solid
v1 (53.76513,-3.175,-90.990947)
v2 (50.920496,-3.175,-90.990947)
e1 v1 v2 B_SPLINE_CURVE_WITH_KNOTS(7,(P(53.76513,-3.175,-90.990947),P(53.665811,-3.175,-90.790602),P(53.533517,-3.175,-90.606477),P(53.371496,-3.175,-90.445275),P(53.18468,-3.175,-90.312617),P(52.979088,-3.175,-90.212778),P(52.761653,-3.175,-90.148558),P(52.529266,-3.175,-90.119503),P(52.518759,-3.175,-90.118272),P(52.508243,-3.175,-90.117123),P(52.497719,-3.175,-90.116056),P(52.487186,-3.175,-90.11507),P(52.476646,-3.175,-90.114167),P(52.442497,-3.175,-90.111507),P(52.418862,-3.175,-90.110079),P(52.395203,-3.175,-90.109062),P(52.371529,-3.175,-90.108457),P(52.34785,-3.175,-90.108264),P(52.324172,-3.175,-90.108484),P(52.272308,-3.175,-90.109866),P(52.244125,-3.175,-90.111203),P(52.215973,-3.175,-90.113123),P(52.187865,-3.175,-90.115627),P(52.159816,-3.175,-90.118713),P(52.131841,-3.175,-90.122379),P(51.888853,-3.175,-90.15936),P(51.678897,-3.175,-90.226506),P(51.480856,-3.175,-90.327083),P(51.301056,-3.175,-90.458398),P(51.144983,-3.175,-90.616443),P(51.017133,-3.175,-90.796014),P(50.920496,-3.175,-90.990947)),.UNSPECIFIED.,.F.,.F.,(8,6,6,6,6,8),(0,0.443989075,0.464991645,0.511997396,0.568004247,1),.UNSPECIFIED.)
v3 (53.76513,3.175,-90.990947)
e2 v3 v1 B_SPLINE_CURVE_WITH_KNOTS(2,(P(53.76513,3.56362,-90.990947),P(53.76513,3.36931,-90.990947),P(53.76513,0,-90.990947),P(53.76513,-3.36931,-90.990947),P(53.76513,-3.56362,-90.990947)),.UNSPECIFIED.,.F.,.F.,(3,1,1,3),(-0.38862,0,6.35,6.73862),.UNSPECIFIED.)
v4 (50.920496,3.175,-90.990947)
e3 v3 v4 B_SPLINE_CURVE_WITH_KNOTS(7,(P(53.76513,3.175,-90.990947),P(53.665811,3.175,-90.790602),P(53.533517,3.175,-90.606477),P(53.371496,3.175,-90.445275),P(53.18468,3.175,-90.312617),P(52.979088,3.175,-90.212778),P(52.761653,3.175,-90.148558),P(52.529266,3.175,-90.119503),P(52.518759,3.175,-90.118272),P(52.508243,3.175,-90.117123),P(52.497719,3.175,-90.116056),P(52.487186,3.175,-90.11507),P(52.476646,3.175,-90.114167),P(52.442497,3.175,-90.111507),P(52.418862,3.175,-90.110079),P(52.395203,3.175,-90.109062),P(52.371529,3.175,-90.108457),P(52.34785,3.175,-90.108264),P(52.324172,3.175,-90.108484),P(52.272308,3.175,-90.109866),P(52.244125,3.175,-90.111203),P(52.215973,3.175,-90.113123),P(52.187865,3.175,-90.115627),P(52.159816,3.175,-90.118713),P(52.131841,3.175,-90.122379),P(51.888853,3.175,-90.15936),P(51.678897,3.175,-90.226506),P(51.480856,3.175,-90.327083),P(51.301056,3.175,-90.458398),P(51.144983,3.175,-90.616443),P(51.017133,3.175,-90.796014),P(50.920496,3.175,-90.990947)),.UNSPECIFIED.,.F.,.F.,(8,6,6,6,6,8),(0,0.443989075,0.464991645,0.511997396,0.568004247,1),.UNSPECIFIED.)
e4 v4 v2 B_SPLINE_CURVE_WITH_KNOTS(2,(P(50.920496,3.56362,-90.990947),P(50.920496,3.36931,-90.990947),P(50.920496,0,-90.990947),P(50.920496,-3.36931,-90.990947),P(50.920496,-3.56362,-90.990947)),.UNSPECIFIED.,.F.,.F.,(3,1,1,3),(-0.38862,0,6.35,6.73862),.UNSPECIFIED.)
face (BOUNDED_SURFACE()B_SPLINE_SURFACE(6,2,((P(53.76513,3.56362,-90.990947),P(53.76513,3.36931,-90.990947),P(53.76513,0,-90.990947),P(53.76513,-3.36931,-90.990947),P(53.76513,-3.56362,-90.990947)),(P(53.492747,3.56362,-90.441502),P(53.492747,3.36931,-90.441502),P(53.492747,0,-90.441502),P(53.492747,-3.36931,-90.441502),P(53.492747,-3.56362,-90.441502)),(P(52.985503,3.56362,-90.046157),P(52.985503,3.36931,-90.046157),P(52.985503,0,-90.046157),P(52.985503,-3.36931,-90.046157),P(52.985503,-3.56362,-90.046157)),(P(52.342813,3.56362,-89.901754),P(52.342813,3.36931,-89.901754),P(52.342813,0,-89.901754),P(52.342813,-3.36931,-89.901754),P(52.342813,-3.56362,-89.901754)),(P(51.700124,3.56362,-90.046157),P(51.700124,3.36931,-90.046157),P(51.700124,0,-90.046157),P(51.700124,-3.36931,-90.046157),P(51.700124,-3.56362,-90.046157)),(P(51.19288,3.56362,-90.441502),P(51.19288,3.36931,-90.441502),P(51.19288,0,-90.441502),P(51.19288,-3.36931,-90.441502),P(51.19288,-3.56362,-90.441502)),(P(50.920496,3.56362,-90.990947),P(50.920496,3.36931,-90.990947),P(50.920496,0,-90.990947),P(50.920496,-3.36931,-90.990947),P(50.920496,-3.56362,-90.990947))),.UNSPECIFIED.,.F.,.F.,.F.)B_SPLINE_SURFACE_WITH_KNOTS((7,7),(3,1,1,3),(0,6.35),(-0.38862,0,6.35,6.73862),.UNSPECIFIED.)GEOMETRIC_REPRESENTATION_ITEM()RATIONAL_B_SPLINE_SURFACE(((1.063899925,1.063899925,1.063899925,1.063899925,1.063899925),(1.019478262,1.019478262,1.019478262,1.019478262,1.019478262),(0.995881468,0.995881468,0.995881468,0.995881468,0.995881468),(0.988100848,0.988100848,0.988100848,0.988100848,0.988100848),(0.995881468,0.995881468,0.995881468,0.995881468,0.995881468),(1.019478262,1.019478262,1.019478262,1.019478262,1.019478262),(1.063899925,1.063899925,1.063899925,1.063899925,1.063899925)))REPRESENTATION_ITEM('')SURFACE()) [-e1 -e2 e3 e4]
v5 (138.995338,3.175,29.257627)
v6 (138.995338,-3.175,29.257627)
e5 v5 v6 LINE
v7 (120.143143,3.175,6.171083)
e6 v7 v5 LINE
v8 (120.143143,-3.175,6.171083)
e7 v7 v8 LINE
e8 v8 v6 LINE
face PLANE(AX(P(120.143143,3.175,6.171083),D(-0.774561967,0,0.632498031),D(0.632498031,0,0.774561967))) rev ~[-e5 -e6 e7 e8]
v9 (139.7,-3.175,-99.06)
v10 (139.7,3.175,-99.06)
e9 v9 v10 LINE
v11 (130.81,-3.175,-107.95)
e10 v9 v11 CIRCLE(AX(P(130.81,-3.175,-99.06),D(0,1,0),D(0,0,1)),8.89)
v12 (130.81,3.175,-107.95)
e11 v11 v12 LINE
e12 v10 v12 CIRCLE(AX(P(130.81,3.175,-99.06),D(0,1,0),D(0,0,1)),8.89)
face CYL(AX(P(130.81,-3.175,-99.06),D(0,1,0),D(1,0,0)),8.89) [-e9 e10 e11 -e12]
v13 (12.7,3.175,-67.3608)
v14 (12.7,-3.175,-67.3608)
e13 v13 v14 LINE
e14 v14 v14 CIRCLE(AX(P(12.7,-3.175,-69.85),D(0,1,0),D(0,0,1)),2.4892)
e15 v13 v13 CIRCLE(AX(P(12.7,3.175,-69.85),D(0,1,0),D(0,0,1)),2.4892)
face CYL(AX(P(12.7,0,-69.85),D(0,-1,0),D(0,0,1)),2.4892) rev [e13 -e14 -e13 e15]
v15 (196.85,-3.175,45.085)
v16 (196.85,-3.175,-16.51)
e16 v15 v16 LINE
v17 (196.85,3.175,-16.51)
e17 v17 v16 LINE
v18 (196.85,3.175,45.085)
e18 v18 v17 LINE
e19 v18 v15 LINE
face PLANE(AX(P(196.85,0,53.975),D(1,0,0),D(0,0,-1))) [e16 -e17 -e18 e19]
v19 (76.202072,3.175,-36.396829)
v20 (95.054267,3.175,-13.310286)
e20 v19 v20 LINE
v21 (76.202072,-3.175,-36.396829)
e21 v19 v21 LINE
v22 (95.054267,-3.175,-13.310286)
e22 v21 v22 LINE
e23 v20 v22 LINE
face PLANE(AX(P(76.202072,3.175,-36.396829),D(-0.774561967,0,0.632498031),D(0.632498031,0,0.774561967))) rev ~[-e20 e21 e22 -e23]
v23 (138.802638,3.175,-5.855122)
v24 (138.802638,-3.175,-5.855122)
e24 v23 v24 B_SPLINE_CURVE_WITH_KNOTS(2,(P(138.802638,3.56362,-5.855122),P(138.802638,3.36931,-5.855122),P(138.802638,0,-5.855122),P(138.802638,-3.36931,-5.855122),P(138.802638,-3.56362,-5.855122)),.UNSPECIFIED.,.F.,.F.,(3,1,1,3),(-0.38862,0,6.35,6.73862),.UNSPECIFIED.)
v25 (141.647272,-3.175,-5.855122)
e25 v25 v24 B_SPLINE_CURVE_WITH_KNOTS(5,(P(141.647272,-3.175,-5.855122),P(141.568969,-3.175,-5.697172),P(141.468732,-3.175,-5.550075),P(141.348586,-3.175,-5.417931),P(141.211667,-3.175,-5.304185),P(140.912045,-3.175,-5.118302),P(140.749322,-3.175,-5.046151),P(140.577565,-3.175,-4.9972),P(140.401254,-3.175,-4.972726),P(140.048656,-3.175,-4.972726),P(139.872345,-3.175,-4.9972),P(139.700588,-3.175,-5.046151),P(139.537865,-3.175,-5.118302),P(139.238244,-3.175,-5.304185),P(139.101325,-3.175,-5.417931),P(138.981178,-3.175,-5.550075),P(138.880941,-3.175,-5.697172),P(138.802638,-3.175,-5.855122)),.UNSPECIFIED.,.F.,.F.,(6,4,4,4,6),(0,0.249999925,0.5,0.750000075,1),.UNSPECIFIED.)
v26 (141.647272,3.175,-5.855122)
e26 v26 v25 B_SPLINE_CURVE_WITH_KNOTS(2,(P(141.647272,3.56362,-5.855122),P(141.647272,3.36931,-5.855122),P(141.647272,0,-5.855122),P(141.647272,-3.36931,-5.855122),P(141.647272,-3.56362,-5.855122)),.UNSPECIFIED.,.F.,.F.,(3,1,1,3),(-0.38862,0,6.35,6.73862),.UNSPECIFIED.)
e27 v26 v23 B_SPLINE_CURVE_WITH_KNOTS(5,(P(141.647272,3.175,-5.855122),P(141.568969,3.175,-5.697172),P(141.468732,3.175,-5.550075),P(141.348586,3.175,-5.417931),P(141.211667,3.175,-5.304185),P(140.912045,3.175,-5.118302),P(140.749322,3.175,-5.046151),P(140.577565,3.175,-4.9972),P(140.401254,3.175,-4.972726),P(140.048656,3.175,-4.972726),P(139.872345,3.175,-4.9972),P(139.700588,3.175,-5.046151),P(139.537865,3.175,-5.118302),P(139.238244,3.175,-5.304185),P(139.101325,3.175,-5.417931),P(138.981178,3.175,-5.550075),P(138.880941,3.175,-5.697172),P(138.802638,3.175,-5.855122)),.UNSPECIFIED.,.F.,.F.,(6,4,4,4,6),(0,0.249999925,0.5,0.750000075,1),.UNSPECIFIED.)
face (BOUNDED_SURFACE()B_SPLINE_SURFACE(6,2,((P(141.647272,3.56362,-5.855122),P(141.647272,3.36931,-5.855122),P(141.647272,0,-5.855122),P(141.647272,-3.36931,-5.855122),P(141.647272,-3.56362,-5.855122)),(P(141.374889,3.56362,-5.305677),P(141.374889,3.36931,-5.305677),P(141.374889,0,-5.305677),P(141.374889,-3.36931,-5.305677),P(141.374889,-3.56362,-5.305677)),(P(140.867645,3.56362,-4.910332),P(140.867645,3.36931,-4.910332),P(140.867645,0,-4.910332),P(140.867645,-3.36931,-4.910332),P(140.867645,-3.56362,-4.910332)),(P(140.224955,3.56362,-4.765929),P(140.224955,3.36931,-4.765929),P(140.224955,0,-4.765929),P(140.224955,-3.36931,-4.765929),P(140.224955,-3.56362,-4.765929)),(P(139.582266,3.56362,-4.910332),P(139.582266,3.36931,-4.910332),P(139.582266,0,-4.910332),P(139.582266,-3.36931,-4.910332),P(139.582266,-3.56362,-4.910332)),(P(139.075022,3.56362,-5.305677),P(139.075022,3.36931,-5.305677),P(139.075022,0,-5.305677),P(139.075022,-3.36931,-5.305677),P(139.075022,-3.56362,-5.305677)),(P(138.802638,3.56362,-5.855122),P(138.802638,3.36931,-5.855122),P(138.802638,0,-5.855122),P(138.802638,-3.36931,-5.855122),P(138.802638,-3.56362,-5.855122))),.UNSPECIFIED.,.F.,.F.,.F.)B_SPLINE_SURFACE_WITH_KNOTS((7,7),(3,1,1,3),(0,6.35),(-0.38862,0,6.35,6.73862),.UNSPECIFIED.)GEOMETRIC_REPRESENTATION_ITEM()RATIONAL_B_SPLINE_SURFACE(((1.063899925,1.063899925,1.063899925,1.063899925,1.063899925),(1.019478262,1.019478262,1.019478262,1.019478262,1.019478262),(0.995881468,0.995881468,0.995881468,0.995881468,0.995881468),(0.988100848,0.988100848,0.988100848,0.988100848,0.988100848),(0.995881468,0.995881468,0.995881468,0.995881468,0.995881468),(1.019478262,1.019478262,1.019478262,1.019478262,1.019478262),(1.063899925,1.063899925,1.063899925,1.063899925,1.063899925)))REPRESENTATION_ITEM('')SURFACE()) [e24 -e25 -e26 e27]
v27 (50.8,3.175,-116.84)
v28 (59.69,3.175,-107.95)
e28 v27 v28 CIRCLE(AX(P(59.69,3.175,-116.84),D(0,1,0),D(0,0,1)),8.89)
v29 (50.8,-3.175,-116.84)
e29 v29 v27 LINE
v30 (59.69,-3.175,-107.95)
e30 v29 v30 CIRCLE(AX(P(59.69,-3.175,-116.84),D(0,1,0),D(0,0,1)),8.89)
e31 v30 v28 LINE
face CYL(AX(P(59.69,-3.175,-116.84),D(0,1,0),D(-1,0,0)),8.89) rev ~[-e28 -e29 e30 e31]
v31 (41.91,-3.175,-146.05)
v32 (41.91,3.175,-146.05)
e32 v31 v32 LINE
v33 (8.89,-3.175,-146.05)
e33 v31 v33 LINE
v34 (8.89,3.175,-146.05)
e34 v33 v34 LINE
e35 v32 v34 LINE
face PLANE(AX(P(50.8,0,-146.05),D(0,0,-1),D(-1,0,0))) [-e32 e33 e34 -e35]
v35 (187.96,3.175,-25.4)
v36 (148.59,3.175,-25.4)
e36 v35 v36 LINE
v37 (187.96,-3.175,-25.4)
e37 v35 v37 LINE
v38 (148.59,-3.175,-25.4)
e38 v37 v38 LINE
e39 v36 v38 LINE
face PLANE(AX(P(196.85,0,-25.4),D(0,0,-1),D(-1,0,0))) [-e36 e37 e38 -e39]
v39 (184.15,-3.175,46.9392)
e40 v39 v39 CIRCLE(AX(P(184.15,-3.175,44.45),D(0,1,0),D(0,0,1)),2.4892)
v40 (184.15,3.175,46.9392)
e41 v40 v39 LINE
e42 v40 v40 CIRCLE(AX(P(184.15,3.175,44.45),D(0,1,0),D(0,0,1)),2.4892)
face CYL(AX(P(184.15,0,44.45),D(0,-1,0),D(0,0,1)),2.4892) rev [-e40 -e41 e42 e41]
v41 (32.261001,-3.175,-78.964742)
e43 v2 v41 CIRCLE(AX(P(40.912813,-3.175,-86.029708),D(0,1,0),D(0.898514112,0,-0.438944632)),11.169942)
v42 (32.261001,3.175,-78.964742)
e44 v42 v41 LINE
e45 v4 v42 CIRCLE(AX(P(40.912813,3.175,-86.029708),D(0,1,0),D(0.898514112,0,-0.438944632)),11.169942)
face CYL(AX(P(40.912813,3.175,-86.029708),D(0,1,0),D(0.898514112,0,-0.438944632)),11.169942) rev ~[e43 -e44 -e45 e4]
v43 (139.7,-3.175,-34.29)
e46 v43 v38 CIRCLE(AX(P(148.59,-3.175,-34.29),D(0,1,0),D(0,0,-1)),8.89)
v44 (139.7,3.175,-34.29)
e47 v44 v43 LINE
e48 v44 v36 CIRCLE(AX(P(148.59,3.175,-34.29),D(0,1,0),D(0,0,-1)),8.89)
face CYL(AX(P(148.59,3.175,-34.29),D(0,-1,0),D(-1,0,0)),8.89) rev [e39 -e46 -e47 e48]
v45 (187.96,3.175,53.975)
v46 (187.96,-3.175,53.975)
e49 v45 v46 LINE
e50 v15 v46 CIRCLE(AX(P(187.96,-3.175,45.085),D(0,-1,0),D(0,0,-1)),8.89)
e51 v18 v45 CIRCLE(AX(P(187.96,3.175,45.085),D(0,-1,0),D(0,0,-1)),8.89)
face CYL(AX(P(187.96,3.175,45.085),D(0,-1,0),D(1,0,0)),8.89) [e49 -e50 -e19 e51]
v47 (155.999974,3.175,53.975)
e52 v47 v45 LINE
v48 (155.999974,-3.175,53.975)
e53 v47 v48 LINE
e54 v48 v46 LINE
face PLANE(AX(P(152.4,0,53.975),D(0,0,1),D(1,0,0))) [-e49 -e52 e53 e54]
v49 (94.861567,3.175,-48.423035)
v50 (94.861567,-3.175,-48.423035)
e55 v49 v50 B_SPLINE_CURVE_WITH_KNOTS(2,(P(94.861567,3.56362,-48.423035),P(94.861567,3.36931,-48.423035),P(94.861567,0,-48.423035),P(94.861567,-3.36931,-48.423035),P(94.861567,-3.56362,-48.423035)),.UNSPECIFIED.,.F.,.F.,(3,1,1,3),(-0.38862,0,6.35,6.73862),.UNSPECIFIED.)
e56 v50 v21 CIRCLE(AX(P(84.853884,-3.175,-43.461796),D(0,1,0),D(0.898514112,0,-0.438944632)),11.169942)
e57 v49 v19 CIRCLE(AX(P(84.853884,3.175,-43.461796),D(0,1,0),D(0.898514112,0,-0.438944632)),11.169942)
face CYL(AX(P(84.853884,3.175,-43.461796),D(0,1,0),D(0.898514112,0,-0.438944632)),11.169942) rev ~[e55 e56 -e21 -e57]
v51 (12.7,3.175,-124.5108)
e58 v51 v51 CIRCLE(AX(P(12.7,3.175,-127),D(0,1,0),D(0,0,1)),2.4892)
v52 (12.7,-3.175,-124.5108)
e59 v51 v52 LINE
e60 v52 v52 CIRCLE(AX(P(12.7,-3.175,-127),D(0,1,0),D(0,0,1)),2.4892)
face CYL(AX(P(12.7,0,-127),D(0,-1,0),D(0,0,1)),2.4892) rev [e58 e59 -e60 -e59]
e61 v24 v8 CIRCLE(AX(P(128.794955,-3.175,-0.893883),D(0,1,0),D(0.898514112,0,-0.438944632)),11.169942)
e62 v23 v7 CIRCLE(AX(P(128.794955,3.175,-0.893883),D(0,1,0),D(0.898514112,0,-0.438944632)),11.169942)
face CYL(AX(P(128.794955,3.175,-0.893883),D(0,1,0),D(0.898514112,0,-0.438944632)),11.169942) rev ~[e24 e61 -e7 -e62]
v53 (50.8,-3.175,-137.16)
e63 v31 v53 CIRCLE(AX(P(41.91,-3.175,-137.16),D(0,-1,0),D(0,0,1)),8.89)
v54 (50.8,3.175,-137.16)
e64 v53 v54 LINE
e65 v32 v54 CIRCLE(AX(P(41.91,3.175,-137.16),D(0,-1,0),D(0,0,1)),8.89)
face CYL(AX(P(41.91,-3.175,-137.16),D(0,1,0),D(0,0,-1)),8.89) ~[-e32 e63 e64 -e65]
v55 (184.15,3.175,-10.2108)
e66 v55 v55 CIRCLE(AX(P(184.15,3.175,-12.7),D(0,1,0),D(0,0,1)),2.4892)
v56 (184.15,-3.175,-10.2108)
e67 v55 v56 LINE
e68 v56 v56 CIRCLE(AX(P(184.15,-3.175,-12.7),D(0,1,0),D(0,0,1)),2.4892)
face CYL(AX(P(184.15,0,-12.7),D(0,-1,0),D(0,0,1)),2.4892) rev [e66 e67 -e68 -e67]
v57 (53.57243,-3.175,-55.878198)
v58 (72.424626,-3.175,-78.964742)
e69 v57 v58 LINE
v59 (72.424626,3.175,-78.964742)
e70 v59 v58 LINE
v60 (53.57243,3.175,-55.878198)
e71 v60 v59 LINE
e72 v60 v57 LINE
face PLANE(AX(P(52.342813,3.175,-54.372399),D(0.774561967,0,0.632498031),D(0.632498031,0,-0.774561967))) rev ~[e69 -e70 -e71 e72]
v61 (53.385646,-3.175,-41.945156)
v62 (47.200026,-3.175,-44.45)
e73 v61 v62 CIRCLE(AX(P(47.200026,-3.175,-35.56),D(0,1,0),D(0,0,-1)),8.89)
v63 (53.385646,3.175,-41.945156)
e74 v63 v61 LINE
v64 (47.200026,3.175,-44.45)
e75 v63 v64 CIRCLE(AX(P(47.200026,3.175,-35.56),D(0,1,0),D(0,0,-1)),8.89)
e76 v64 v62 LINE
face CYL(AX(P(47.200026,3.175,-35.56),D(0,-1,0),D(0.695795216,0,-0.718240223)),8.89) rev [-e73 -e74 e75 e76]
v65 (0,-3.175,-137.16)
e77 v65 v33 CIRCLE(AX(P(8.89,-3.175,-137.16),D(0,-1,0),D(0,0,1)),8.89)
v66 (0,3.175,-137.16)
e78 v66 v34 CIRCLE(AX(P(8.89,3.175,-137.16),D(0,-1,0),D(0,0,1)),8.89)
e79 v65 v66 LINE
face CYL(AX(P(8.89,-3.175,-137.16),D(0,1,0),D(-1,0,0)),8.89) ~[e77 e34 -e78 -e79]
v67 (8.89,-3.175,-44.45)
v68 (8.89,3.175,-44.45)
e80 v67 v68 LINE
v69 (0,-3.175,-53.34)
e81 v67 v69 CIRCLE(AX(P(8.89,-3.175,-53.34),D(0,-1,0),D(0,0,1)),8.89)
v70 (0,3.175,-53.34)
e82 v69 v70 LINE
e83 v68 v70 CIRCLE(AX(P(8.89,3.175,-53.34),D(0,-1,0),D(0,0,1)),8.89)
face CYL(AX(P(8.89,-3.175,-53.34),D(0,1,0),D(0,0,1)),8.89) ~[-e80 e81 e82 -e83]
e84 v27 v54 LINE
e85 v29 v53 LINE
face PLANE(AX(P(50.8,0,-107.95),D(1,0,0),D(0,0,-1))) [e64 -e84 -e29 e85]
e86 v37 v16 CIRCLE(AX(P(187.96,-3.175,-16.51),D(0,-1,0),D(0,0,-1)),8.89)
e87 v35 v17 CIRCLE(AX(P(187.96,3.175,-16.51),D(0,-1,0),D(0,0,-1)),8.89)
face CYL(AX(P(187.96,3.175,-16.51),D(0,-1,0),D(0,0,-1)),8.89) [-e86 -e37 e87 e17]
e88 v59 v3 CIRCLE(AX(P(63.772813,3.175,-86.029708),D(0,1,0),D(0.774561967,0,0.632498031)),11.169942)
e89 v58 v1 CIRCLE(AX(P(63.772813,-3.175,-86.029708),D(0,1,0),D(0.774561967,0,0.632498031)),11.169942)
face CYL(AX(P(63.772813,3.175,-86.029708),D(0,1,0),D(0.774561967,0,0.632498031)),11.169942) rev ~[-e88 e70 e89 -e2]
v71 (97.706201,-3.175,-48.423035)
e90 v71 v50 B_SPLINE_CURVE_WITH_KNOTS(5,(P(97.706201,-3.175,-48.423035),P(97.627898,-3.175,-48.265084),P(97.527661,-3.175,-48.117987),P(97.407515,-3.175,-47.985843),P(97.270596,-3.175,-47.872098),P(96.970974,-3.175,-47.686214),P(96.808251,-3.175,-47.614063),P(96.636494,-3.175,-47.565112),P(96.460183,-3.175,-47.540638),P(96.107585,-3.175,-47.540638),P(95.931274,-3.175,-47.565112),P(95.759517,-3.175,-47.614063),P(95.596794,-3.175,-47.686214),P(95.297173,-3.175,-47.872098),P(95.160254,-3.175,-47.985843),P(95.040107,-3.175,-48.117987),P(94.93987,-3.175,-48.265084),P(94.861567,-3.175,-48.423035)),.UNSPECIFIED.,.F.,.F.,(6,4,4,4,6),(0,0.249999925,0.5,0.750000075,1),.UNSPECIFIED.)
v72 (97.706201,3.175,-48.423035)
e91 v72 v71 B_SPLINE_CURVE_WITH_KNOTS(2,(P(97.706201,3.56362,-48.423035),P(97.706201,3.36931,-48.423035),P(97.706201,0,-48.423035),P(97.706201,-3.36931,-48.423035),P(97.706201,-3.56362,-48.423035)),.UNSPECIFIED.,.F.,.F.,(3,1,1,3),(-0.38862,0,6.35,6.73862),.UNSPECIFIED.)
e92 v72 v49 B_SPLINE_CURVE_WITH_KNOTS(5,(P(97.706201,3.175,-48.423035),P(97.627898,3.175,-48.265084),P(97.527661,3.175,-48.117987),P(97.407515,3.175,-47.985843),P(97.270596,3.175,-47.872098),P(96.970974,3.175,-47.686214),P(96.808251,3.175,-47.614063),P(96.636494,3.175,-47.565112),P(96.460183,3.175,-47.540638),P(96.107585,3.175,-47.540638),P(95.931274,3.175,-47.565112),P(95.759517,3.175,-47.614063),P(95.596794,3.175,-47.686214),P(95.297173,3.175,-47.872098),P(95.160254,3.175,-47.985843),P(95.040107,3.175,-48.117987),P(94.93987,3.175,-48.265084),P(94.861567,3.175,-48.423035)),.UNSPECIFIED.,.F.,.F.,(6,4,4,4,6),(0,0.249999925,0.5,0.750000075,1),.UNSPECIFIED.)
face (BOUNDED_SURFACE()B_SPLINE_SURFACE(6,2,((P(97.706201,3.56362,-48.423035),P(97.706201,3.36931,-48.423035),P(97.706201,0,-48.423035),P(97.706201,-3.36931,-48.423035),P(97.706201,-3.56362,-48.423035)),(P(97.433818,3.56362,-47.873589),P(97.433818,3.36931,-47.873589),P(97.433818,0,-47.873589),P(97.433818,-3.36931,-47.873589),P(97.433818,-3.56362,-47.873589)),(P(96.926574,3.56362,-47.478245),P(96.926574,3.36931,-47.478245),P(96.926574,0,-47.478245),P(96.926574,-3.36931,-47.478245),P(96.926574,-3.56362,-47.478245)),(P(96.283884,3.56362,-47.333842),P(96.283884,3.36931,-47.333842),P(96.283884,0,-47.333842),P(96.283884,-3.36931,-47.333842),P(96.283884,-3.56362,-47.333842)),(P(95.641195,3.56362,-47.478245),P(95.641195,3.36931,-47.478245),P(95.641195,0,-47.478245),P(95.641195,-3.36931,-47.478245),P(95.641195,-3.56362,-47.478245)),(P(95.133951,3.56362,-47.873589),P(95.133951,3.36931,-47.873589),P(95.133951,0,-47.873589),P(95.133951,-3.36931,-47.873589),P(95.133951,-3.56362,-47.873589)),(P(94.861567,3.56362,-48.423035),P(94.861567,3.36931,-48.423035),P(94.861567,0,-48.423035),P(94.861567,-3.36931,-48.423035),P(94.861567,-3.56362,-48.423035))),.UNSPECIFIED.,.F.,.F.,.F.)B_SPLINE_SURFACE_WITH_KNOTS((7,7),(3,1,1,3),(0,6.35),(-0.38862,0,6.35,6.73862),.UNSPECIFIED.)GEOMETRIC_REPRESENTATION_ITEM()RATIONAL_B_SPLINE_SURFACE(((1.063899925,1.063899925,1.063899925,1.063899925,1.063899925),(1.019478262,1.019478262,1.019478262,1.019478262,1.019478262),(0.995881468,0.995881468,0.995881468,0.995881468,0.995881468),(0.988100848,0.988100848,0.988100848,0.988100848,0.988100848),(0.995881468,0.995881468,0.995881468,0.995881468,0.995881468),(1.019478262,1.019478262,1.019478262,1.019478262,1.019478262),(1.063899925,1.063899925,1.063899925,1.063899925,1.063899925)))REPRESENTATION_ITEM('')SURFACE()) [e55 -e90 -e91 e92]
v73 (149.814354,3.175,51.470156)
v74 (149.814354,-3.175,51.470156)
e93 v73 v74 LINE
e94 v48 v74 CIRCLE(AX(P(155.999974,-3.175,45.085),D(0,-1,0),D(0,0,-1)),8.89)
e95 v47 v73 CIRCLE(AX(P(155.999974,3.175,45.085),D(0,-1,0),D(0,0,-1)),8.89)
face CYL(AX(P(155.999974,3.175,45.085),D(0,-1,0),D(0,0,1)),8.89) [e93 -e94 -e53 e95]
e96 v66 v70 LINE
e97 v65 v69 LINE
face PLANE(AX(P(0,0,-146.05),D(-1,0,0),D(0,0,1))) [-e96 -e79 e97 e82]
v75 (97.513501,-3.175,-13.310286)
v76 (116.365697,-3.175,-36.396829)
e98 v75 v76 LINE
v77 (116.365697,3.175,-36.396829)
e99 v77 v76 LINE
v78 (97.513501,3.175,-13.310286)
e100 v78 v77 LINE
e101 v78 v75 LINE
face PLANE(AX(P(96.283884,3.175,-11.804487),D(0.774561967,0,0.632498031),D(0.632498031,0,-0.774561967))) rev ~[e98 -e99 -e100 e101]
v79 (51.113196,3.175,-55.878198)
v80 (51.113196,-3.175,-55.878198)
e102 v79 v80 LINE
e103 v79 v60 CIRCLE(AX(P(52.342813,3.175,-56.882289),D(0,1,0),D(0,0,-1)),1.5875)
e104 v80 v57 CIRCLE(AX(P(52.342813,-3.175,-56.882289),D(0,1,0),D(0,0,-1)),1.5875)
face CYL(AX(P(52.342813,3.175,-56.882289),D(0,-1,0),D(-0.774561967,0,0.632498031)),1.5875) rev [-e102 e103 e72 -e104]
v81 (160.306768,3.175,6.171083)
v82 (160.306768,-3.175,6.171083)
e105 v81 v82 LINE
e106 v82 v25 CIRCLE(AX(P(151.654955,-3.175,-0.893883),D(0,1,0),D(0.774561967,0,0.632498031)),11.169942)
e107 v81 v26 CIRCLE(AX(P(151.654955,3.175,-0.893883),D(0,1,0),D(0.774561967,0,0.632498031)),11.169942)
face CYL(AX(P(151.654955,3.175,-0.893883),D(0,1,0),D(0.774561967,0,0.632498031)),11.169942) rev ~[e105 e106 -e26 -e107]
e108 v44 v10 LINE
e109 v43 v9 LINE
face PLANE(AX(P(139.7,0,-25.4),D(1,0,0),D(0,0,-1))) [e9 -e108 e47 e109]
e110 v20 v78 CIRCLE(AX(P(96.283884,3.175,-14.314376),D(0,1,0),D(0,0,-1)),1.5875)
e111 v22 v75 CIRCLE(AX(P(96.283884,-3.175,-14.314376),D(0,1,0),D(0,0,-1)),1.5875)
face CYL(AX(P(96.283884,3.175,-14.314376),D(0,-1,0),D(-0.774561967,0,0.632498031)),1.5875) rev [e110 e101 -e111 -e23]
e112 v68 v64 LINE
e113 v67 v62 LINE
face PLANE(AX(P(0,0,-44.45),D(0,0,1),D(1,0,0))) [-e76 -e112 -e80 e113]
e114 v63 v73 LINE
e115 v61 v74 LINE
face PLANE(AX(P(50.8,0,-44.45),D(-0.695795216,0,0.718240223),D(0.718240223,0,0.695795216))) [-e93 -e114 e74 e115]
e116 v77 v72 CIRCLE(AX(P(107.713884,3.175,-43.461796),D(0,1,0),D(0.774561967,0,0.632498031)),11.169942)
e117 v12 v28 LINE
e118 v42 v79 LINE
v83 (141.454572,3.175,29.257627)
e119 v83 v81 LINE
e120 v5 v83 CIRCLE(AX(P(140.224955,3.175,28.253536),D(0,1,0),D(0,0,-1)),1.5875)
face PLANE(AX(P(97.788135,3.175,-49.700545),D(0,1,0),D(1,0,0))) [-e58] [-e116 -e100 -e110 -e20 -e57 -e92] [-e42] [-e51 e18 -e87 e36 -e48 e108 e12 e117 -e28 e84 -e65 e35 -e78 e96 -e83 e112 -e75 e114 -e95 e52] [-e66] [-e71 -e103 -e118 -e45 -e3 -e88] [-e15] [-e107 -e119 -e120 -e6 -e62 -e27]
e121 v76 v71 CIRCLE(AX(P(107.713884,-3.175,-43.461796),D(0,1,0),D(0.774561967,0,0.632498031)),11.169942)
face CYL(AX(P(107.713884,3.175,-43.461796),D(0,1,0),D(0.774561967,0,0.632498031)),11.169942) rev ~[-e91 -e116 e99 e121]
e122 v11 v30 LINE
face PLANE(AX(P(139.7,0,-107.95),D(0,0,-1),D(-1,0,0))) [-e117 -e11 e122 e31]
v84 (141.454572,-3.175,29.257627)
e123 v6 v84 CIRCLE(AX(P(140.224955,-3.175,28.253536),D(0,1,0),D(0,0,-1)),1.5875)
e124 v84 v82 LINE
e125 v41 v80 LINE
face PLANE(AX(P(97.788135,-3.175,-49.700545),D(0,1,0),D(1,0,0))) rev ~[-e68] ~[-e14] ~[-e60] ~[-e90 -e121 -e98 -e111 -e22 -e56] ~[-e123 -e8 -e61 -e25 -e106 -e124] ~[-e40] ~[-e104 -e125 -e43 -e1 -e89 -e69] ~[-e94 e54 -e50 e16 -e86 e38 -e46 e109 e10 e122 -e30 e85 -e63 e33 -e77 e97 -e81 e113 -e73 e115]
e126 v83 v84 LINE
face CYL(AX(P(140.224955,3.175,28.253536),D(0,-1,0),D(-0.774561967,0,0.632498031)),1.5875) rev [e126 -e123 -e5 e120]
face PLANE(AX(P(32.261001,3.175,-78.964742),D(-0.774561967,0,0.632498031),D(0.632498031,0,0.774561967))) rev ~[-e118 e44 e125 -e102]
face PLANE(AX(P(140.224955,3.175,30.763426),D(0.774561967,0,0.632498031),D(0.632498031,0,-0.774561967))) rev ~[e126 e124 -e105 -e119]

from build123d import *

# Parameters (mm, degrees)
SKETCH1_R           = 2.4892
BOSS_EXTRUDE1_DEPTH = 3.175
FILLET2_R           = 8.89
CUT_EXTRUDE2_DEPTH  = 246.195529119
FILLET3_R           = 1.5875


with BuildPart() as part:
    # Sketch1 → Boss-Extrude1 (new, symmetric)
    with BuildSketch(Plane(origin=(0, 0, 0), x_dir=(1, 0, 0), z_dir=(0, 1, 0))):
        Polygon((139.7, 25.4), (139.7, 107.95), (50.8, 107.95), (50.8, 146.05), (0, 146.05), (0, 107.95), (0, 44.45), (50.8, 44.45), (152.4, -53.975), (196.85, -53.975), (196.85, 0), (196.85, 25.4), align=None)
        with Locations(Location((184.15, -44.45, 0), (0, 0, 270))):
            Circle(SKETCH1_R, mode=Mode.SUBTRACT)
        with Locations(Location((184.15, 12.7, 0), (0, 0, 270))):
            Circle(SKETCH1_R, mode=Mode.SUBTRACT)
        with Locations(Location((12.7, 69.85, 0), (0, 0, 270))):
            Circle(SKETCH1_R, mode=Mode.SUBTRACT)
        with Locations(Location((12.7, 127, 0), (0, 0, 270))):
            Circle(SKETCH1_R, mode=Mode.SUBTRACT)
    extrude(amount=BOSS_EXTRUDE1_DEPTH, both=True)

    # Fillet2
    fillet2_edges = [part.edges().sort_by_distance(p)[0] for p in [
        (50.8, 0, -107.95),
        (139.7, 0, -107.95),
        (139.7, 0, -25.4),
        (196.85, 0, -25.4),
        (196.85, 0, 53.975),
        (152.4, 0, 53.975),
        (50.8, 0, -44.45),
        (0, 0, -44.45),
        (0, 0, -146.05),
        (50.8, 0, -146.05),
    ]]
    fillet(fillet2_edges, radius=FILLET2_R)

    # Sketch4 → Cut-Extrude2 (cut, through all)
    with BuildSketch(Plane(origin=(0, 3.175, 0), x_dir=(1, 0, 0), z_dir=(0, 1, 0))):
        with BuildLine():
            Line((32.261000835, 78.9647419), (52.342813318, 54.372399446))
            Line((52.342813318, 54.372399446), (72.424625802, 78.9647419))
            ThreePointArc((72.424625802, 78.9647419), (69.796699914, 95.436110561), (53.736462526, 90.93269463))
            Line((53.736462526, 90.93269463), (52.342813318, 88.079912324))
            Line((52.342813318, 88.079912324), (50.949164111, 90.93269463))
            ThreePointArc((50.949164111, 90.93269463), (34.888926723, 95.436110561), (32.261000835, 78.9647419))
        make_face()
        with BuildLine():
            Line((76.202071803, 36.3968294), (96.283884286, 11.804486946))
            Line((96.283884286, 11.804486946), (116.365696769, 36.3968294))
            ThreePointArc((116.365696769, 36.3968294), (113.737770882, 52.868198061), (97.677533493, 48.36478213))
            Line((97.677533493, 48.36478213), (96.283884286, 45.511999824))
            Line((96.283884286, 45.511999824), (94.890235079, 48.36478213))
            ThreePointArc((94.890235079, 48.36478213), (78.82999769, 52.868198061), (76.202071803, 36.3968294))
        make_face()
        with BuildLine():
            Line((120.14314277, -6.171083099), (140.224955253, -30.763425554))
            Line((140.224955253, -30.763425554), (160.306767736, -6.171083099))
            ThreePointArc((160.306767736, -6.171083099), (157.678841849, 10.300285561), (141.618604461, 5.796869631))
            Line((141.618604461, 5.796869631), (140.224955253, 2.944087324))
            Line((140.224955253, 2.944087324), (138.831306046, 5.796869631))
            ThreePointArc((138.831306046, 5.796869631), (122.771068658, 10.300285561), (120.14314277, -6.171083099))
        make_face()
    extrude(amount=-CUT_EXTRUDE2_DEPTH, mode=Mode.SUBTRACT)

    # Fillet3
    fillet3_edges = [part.edges().sort_by_distance(p)[0] for p in [
        (52.342813318, 0, -88.079912324),
        (52.342813318, 0, -54.372399446),
        (140.224955253, 0, -2.944087324),
        (140.224955253, 0, 30.763425554),
        (96.283884286, 0, -11.804486946),
        (96.283884286, 0, -45.511999824),
    ]]
    fillet(fillet3_edges, radius=FILLET3_R)


solid = part.part
